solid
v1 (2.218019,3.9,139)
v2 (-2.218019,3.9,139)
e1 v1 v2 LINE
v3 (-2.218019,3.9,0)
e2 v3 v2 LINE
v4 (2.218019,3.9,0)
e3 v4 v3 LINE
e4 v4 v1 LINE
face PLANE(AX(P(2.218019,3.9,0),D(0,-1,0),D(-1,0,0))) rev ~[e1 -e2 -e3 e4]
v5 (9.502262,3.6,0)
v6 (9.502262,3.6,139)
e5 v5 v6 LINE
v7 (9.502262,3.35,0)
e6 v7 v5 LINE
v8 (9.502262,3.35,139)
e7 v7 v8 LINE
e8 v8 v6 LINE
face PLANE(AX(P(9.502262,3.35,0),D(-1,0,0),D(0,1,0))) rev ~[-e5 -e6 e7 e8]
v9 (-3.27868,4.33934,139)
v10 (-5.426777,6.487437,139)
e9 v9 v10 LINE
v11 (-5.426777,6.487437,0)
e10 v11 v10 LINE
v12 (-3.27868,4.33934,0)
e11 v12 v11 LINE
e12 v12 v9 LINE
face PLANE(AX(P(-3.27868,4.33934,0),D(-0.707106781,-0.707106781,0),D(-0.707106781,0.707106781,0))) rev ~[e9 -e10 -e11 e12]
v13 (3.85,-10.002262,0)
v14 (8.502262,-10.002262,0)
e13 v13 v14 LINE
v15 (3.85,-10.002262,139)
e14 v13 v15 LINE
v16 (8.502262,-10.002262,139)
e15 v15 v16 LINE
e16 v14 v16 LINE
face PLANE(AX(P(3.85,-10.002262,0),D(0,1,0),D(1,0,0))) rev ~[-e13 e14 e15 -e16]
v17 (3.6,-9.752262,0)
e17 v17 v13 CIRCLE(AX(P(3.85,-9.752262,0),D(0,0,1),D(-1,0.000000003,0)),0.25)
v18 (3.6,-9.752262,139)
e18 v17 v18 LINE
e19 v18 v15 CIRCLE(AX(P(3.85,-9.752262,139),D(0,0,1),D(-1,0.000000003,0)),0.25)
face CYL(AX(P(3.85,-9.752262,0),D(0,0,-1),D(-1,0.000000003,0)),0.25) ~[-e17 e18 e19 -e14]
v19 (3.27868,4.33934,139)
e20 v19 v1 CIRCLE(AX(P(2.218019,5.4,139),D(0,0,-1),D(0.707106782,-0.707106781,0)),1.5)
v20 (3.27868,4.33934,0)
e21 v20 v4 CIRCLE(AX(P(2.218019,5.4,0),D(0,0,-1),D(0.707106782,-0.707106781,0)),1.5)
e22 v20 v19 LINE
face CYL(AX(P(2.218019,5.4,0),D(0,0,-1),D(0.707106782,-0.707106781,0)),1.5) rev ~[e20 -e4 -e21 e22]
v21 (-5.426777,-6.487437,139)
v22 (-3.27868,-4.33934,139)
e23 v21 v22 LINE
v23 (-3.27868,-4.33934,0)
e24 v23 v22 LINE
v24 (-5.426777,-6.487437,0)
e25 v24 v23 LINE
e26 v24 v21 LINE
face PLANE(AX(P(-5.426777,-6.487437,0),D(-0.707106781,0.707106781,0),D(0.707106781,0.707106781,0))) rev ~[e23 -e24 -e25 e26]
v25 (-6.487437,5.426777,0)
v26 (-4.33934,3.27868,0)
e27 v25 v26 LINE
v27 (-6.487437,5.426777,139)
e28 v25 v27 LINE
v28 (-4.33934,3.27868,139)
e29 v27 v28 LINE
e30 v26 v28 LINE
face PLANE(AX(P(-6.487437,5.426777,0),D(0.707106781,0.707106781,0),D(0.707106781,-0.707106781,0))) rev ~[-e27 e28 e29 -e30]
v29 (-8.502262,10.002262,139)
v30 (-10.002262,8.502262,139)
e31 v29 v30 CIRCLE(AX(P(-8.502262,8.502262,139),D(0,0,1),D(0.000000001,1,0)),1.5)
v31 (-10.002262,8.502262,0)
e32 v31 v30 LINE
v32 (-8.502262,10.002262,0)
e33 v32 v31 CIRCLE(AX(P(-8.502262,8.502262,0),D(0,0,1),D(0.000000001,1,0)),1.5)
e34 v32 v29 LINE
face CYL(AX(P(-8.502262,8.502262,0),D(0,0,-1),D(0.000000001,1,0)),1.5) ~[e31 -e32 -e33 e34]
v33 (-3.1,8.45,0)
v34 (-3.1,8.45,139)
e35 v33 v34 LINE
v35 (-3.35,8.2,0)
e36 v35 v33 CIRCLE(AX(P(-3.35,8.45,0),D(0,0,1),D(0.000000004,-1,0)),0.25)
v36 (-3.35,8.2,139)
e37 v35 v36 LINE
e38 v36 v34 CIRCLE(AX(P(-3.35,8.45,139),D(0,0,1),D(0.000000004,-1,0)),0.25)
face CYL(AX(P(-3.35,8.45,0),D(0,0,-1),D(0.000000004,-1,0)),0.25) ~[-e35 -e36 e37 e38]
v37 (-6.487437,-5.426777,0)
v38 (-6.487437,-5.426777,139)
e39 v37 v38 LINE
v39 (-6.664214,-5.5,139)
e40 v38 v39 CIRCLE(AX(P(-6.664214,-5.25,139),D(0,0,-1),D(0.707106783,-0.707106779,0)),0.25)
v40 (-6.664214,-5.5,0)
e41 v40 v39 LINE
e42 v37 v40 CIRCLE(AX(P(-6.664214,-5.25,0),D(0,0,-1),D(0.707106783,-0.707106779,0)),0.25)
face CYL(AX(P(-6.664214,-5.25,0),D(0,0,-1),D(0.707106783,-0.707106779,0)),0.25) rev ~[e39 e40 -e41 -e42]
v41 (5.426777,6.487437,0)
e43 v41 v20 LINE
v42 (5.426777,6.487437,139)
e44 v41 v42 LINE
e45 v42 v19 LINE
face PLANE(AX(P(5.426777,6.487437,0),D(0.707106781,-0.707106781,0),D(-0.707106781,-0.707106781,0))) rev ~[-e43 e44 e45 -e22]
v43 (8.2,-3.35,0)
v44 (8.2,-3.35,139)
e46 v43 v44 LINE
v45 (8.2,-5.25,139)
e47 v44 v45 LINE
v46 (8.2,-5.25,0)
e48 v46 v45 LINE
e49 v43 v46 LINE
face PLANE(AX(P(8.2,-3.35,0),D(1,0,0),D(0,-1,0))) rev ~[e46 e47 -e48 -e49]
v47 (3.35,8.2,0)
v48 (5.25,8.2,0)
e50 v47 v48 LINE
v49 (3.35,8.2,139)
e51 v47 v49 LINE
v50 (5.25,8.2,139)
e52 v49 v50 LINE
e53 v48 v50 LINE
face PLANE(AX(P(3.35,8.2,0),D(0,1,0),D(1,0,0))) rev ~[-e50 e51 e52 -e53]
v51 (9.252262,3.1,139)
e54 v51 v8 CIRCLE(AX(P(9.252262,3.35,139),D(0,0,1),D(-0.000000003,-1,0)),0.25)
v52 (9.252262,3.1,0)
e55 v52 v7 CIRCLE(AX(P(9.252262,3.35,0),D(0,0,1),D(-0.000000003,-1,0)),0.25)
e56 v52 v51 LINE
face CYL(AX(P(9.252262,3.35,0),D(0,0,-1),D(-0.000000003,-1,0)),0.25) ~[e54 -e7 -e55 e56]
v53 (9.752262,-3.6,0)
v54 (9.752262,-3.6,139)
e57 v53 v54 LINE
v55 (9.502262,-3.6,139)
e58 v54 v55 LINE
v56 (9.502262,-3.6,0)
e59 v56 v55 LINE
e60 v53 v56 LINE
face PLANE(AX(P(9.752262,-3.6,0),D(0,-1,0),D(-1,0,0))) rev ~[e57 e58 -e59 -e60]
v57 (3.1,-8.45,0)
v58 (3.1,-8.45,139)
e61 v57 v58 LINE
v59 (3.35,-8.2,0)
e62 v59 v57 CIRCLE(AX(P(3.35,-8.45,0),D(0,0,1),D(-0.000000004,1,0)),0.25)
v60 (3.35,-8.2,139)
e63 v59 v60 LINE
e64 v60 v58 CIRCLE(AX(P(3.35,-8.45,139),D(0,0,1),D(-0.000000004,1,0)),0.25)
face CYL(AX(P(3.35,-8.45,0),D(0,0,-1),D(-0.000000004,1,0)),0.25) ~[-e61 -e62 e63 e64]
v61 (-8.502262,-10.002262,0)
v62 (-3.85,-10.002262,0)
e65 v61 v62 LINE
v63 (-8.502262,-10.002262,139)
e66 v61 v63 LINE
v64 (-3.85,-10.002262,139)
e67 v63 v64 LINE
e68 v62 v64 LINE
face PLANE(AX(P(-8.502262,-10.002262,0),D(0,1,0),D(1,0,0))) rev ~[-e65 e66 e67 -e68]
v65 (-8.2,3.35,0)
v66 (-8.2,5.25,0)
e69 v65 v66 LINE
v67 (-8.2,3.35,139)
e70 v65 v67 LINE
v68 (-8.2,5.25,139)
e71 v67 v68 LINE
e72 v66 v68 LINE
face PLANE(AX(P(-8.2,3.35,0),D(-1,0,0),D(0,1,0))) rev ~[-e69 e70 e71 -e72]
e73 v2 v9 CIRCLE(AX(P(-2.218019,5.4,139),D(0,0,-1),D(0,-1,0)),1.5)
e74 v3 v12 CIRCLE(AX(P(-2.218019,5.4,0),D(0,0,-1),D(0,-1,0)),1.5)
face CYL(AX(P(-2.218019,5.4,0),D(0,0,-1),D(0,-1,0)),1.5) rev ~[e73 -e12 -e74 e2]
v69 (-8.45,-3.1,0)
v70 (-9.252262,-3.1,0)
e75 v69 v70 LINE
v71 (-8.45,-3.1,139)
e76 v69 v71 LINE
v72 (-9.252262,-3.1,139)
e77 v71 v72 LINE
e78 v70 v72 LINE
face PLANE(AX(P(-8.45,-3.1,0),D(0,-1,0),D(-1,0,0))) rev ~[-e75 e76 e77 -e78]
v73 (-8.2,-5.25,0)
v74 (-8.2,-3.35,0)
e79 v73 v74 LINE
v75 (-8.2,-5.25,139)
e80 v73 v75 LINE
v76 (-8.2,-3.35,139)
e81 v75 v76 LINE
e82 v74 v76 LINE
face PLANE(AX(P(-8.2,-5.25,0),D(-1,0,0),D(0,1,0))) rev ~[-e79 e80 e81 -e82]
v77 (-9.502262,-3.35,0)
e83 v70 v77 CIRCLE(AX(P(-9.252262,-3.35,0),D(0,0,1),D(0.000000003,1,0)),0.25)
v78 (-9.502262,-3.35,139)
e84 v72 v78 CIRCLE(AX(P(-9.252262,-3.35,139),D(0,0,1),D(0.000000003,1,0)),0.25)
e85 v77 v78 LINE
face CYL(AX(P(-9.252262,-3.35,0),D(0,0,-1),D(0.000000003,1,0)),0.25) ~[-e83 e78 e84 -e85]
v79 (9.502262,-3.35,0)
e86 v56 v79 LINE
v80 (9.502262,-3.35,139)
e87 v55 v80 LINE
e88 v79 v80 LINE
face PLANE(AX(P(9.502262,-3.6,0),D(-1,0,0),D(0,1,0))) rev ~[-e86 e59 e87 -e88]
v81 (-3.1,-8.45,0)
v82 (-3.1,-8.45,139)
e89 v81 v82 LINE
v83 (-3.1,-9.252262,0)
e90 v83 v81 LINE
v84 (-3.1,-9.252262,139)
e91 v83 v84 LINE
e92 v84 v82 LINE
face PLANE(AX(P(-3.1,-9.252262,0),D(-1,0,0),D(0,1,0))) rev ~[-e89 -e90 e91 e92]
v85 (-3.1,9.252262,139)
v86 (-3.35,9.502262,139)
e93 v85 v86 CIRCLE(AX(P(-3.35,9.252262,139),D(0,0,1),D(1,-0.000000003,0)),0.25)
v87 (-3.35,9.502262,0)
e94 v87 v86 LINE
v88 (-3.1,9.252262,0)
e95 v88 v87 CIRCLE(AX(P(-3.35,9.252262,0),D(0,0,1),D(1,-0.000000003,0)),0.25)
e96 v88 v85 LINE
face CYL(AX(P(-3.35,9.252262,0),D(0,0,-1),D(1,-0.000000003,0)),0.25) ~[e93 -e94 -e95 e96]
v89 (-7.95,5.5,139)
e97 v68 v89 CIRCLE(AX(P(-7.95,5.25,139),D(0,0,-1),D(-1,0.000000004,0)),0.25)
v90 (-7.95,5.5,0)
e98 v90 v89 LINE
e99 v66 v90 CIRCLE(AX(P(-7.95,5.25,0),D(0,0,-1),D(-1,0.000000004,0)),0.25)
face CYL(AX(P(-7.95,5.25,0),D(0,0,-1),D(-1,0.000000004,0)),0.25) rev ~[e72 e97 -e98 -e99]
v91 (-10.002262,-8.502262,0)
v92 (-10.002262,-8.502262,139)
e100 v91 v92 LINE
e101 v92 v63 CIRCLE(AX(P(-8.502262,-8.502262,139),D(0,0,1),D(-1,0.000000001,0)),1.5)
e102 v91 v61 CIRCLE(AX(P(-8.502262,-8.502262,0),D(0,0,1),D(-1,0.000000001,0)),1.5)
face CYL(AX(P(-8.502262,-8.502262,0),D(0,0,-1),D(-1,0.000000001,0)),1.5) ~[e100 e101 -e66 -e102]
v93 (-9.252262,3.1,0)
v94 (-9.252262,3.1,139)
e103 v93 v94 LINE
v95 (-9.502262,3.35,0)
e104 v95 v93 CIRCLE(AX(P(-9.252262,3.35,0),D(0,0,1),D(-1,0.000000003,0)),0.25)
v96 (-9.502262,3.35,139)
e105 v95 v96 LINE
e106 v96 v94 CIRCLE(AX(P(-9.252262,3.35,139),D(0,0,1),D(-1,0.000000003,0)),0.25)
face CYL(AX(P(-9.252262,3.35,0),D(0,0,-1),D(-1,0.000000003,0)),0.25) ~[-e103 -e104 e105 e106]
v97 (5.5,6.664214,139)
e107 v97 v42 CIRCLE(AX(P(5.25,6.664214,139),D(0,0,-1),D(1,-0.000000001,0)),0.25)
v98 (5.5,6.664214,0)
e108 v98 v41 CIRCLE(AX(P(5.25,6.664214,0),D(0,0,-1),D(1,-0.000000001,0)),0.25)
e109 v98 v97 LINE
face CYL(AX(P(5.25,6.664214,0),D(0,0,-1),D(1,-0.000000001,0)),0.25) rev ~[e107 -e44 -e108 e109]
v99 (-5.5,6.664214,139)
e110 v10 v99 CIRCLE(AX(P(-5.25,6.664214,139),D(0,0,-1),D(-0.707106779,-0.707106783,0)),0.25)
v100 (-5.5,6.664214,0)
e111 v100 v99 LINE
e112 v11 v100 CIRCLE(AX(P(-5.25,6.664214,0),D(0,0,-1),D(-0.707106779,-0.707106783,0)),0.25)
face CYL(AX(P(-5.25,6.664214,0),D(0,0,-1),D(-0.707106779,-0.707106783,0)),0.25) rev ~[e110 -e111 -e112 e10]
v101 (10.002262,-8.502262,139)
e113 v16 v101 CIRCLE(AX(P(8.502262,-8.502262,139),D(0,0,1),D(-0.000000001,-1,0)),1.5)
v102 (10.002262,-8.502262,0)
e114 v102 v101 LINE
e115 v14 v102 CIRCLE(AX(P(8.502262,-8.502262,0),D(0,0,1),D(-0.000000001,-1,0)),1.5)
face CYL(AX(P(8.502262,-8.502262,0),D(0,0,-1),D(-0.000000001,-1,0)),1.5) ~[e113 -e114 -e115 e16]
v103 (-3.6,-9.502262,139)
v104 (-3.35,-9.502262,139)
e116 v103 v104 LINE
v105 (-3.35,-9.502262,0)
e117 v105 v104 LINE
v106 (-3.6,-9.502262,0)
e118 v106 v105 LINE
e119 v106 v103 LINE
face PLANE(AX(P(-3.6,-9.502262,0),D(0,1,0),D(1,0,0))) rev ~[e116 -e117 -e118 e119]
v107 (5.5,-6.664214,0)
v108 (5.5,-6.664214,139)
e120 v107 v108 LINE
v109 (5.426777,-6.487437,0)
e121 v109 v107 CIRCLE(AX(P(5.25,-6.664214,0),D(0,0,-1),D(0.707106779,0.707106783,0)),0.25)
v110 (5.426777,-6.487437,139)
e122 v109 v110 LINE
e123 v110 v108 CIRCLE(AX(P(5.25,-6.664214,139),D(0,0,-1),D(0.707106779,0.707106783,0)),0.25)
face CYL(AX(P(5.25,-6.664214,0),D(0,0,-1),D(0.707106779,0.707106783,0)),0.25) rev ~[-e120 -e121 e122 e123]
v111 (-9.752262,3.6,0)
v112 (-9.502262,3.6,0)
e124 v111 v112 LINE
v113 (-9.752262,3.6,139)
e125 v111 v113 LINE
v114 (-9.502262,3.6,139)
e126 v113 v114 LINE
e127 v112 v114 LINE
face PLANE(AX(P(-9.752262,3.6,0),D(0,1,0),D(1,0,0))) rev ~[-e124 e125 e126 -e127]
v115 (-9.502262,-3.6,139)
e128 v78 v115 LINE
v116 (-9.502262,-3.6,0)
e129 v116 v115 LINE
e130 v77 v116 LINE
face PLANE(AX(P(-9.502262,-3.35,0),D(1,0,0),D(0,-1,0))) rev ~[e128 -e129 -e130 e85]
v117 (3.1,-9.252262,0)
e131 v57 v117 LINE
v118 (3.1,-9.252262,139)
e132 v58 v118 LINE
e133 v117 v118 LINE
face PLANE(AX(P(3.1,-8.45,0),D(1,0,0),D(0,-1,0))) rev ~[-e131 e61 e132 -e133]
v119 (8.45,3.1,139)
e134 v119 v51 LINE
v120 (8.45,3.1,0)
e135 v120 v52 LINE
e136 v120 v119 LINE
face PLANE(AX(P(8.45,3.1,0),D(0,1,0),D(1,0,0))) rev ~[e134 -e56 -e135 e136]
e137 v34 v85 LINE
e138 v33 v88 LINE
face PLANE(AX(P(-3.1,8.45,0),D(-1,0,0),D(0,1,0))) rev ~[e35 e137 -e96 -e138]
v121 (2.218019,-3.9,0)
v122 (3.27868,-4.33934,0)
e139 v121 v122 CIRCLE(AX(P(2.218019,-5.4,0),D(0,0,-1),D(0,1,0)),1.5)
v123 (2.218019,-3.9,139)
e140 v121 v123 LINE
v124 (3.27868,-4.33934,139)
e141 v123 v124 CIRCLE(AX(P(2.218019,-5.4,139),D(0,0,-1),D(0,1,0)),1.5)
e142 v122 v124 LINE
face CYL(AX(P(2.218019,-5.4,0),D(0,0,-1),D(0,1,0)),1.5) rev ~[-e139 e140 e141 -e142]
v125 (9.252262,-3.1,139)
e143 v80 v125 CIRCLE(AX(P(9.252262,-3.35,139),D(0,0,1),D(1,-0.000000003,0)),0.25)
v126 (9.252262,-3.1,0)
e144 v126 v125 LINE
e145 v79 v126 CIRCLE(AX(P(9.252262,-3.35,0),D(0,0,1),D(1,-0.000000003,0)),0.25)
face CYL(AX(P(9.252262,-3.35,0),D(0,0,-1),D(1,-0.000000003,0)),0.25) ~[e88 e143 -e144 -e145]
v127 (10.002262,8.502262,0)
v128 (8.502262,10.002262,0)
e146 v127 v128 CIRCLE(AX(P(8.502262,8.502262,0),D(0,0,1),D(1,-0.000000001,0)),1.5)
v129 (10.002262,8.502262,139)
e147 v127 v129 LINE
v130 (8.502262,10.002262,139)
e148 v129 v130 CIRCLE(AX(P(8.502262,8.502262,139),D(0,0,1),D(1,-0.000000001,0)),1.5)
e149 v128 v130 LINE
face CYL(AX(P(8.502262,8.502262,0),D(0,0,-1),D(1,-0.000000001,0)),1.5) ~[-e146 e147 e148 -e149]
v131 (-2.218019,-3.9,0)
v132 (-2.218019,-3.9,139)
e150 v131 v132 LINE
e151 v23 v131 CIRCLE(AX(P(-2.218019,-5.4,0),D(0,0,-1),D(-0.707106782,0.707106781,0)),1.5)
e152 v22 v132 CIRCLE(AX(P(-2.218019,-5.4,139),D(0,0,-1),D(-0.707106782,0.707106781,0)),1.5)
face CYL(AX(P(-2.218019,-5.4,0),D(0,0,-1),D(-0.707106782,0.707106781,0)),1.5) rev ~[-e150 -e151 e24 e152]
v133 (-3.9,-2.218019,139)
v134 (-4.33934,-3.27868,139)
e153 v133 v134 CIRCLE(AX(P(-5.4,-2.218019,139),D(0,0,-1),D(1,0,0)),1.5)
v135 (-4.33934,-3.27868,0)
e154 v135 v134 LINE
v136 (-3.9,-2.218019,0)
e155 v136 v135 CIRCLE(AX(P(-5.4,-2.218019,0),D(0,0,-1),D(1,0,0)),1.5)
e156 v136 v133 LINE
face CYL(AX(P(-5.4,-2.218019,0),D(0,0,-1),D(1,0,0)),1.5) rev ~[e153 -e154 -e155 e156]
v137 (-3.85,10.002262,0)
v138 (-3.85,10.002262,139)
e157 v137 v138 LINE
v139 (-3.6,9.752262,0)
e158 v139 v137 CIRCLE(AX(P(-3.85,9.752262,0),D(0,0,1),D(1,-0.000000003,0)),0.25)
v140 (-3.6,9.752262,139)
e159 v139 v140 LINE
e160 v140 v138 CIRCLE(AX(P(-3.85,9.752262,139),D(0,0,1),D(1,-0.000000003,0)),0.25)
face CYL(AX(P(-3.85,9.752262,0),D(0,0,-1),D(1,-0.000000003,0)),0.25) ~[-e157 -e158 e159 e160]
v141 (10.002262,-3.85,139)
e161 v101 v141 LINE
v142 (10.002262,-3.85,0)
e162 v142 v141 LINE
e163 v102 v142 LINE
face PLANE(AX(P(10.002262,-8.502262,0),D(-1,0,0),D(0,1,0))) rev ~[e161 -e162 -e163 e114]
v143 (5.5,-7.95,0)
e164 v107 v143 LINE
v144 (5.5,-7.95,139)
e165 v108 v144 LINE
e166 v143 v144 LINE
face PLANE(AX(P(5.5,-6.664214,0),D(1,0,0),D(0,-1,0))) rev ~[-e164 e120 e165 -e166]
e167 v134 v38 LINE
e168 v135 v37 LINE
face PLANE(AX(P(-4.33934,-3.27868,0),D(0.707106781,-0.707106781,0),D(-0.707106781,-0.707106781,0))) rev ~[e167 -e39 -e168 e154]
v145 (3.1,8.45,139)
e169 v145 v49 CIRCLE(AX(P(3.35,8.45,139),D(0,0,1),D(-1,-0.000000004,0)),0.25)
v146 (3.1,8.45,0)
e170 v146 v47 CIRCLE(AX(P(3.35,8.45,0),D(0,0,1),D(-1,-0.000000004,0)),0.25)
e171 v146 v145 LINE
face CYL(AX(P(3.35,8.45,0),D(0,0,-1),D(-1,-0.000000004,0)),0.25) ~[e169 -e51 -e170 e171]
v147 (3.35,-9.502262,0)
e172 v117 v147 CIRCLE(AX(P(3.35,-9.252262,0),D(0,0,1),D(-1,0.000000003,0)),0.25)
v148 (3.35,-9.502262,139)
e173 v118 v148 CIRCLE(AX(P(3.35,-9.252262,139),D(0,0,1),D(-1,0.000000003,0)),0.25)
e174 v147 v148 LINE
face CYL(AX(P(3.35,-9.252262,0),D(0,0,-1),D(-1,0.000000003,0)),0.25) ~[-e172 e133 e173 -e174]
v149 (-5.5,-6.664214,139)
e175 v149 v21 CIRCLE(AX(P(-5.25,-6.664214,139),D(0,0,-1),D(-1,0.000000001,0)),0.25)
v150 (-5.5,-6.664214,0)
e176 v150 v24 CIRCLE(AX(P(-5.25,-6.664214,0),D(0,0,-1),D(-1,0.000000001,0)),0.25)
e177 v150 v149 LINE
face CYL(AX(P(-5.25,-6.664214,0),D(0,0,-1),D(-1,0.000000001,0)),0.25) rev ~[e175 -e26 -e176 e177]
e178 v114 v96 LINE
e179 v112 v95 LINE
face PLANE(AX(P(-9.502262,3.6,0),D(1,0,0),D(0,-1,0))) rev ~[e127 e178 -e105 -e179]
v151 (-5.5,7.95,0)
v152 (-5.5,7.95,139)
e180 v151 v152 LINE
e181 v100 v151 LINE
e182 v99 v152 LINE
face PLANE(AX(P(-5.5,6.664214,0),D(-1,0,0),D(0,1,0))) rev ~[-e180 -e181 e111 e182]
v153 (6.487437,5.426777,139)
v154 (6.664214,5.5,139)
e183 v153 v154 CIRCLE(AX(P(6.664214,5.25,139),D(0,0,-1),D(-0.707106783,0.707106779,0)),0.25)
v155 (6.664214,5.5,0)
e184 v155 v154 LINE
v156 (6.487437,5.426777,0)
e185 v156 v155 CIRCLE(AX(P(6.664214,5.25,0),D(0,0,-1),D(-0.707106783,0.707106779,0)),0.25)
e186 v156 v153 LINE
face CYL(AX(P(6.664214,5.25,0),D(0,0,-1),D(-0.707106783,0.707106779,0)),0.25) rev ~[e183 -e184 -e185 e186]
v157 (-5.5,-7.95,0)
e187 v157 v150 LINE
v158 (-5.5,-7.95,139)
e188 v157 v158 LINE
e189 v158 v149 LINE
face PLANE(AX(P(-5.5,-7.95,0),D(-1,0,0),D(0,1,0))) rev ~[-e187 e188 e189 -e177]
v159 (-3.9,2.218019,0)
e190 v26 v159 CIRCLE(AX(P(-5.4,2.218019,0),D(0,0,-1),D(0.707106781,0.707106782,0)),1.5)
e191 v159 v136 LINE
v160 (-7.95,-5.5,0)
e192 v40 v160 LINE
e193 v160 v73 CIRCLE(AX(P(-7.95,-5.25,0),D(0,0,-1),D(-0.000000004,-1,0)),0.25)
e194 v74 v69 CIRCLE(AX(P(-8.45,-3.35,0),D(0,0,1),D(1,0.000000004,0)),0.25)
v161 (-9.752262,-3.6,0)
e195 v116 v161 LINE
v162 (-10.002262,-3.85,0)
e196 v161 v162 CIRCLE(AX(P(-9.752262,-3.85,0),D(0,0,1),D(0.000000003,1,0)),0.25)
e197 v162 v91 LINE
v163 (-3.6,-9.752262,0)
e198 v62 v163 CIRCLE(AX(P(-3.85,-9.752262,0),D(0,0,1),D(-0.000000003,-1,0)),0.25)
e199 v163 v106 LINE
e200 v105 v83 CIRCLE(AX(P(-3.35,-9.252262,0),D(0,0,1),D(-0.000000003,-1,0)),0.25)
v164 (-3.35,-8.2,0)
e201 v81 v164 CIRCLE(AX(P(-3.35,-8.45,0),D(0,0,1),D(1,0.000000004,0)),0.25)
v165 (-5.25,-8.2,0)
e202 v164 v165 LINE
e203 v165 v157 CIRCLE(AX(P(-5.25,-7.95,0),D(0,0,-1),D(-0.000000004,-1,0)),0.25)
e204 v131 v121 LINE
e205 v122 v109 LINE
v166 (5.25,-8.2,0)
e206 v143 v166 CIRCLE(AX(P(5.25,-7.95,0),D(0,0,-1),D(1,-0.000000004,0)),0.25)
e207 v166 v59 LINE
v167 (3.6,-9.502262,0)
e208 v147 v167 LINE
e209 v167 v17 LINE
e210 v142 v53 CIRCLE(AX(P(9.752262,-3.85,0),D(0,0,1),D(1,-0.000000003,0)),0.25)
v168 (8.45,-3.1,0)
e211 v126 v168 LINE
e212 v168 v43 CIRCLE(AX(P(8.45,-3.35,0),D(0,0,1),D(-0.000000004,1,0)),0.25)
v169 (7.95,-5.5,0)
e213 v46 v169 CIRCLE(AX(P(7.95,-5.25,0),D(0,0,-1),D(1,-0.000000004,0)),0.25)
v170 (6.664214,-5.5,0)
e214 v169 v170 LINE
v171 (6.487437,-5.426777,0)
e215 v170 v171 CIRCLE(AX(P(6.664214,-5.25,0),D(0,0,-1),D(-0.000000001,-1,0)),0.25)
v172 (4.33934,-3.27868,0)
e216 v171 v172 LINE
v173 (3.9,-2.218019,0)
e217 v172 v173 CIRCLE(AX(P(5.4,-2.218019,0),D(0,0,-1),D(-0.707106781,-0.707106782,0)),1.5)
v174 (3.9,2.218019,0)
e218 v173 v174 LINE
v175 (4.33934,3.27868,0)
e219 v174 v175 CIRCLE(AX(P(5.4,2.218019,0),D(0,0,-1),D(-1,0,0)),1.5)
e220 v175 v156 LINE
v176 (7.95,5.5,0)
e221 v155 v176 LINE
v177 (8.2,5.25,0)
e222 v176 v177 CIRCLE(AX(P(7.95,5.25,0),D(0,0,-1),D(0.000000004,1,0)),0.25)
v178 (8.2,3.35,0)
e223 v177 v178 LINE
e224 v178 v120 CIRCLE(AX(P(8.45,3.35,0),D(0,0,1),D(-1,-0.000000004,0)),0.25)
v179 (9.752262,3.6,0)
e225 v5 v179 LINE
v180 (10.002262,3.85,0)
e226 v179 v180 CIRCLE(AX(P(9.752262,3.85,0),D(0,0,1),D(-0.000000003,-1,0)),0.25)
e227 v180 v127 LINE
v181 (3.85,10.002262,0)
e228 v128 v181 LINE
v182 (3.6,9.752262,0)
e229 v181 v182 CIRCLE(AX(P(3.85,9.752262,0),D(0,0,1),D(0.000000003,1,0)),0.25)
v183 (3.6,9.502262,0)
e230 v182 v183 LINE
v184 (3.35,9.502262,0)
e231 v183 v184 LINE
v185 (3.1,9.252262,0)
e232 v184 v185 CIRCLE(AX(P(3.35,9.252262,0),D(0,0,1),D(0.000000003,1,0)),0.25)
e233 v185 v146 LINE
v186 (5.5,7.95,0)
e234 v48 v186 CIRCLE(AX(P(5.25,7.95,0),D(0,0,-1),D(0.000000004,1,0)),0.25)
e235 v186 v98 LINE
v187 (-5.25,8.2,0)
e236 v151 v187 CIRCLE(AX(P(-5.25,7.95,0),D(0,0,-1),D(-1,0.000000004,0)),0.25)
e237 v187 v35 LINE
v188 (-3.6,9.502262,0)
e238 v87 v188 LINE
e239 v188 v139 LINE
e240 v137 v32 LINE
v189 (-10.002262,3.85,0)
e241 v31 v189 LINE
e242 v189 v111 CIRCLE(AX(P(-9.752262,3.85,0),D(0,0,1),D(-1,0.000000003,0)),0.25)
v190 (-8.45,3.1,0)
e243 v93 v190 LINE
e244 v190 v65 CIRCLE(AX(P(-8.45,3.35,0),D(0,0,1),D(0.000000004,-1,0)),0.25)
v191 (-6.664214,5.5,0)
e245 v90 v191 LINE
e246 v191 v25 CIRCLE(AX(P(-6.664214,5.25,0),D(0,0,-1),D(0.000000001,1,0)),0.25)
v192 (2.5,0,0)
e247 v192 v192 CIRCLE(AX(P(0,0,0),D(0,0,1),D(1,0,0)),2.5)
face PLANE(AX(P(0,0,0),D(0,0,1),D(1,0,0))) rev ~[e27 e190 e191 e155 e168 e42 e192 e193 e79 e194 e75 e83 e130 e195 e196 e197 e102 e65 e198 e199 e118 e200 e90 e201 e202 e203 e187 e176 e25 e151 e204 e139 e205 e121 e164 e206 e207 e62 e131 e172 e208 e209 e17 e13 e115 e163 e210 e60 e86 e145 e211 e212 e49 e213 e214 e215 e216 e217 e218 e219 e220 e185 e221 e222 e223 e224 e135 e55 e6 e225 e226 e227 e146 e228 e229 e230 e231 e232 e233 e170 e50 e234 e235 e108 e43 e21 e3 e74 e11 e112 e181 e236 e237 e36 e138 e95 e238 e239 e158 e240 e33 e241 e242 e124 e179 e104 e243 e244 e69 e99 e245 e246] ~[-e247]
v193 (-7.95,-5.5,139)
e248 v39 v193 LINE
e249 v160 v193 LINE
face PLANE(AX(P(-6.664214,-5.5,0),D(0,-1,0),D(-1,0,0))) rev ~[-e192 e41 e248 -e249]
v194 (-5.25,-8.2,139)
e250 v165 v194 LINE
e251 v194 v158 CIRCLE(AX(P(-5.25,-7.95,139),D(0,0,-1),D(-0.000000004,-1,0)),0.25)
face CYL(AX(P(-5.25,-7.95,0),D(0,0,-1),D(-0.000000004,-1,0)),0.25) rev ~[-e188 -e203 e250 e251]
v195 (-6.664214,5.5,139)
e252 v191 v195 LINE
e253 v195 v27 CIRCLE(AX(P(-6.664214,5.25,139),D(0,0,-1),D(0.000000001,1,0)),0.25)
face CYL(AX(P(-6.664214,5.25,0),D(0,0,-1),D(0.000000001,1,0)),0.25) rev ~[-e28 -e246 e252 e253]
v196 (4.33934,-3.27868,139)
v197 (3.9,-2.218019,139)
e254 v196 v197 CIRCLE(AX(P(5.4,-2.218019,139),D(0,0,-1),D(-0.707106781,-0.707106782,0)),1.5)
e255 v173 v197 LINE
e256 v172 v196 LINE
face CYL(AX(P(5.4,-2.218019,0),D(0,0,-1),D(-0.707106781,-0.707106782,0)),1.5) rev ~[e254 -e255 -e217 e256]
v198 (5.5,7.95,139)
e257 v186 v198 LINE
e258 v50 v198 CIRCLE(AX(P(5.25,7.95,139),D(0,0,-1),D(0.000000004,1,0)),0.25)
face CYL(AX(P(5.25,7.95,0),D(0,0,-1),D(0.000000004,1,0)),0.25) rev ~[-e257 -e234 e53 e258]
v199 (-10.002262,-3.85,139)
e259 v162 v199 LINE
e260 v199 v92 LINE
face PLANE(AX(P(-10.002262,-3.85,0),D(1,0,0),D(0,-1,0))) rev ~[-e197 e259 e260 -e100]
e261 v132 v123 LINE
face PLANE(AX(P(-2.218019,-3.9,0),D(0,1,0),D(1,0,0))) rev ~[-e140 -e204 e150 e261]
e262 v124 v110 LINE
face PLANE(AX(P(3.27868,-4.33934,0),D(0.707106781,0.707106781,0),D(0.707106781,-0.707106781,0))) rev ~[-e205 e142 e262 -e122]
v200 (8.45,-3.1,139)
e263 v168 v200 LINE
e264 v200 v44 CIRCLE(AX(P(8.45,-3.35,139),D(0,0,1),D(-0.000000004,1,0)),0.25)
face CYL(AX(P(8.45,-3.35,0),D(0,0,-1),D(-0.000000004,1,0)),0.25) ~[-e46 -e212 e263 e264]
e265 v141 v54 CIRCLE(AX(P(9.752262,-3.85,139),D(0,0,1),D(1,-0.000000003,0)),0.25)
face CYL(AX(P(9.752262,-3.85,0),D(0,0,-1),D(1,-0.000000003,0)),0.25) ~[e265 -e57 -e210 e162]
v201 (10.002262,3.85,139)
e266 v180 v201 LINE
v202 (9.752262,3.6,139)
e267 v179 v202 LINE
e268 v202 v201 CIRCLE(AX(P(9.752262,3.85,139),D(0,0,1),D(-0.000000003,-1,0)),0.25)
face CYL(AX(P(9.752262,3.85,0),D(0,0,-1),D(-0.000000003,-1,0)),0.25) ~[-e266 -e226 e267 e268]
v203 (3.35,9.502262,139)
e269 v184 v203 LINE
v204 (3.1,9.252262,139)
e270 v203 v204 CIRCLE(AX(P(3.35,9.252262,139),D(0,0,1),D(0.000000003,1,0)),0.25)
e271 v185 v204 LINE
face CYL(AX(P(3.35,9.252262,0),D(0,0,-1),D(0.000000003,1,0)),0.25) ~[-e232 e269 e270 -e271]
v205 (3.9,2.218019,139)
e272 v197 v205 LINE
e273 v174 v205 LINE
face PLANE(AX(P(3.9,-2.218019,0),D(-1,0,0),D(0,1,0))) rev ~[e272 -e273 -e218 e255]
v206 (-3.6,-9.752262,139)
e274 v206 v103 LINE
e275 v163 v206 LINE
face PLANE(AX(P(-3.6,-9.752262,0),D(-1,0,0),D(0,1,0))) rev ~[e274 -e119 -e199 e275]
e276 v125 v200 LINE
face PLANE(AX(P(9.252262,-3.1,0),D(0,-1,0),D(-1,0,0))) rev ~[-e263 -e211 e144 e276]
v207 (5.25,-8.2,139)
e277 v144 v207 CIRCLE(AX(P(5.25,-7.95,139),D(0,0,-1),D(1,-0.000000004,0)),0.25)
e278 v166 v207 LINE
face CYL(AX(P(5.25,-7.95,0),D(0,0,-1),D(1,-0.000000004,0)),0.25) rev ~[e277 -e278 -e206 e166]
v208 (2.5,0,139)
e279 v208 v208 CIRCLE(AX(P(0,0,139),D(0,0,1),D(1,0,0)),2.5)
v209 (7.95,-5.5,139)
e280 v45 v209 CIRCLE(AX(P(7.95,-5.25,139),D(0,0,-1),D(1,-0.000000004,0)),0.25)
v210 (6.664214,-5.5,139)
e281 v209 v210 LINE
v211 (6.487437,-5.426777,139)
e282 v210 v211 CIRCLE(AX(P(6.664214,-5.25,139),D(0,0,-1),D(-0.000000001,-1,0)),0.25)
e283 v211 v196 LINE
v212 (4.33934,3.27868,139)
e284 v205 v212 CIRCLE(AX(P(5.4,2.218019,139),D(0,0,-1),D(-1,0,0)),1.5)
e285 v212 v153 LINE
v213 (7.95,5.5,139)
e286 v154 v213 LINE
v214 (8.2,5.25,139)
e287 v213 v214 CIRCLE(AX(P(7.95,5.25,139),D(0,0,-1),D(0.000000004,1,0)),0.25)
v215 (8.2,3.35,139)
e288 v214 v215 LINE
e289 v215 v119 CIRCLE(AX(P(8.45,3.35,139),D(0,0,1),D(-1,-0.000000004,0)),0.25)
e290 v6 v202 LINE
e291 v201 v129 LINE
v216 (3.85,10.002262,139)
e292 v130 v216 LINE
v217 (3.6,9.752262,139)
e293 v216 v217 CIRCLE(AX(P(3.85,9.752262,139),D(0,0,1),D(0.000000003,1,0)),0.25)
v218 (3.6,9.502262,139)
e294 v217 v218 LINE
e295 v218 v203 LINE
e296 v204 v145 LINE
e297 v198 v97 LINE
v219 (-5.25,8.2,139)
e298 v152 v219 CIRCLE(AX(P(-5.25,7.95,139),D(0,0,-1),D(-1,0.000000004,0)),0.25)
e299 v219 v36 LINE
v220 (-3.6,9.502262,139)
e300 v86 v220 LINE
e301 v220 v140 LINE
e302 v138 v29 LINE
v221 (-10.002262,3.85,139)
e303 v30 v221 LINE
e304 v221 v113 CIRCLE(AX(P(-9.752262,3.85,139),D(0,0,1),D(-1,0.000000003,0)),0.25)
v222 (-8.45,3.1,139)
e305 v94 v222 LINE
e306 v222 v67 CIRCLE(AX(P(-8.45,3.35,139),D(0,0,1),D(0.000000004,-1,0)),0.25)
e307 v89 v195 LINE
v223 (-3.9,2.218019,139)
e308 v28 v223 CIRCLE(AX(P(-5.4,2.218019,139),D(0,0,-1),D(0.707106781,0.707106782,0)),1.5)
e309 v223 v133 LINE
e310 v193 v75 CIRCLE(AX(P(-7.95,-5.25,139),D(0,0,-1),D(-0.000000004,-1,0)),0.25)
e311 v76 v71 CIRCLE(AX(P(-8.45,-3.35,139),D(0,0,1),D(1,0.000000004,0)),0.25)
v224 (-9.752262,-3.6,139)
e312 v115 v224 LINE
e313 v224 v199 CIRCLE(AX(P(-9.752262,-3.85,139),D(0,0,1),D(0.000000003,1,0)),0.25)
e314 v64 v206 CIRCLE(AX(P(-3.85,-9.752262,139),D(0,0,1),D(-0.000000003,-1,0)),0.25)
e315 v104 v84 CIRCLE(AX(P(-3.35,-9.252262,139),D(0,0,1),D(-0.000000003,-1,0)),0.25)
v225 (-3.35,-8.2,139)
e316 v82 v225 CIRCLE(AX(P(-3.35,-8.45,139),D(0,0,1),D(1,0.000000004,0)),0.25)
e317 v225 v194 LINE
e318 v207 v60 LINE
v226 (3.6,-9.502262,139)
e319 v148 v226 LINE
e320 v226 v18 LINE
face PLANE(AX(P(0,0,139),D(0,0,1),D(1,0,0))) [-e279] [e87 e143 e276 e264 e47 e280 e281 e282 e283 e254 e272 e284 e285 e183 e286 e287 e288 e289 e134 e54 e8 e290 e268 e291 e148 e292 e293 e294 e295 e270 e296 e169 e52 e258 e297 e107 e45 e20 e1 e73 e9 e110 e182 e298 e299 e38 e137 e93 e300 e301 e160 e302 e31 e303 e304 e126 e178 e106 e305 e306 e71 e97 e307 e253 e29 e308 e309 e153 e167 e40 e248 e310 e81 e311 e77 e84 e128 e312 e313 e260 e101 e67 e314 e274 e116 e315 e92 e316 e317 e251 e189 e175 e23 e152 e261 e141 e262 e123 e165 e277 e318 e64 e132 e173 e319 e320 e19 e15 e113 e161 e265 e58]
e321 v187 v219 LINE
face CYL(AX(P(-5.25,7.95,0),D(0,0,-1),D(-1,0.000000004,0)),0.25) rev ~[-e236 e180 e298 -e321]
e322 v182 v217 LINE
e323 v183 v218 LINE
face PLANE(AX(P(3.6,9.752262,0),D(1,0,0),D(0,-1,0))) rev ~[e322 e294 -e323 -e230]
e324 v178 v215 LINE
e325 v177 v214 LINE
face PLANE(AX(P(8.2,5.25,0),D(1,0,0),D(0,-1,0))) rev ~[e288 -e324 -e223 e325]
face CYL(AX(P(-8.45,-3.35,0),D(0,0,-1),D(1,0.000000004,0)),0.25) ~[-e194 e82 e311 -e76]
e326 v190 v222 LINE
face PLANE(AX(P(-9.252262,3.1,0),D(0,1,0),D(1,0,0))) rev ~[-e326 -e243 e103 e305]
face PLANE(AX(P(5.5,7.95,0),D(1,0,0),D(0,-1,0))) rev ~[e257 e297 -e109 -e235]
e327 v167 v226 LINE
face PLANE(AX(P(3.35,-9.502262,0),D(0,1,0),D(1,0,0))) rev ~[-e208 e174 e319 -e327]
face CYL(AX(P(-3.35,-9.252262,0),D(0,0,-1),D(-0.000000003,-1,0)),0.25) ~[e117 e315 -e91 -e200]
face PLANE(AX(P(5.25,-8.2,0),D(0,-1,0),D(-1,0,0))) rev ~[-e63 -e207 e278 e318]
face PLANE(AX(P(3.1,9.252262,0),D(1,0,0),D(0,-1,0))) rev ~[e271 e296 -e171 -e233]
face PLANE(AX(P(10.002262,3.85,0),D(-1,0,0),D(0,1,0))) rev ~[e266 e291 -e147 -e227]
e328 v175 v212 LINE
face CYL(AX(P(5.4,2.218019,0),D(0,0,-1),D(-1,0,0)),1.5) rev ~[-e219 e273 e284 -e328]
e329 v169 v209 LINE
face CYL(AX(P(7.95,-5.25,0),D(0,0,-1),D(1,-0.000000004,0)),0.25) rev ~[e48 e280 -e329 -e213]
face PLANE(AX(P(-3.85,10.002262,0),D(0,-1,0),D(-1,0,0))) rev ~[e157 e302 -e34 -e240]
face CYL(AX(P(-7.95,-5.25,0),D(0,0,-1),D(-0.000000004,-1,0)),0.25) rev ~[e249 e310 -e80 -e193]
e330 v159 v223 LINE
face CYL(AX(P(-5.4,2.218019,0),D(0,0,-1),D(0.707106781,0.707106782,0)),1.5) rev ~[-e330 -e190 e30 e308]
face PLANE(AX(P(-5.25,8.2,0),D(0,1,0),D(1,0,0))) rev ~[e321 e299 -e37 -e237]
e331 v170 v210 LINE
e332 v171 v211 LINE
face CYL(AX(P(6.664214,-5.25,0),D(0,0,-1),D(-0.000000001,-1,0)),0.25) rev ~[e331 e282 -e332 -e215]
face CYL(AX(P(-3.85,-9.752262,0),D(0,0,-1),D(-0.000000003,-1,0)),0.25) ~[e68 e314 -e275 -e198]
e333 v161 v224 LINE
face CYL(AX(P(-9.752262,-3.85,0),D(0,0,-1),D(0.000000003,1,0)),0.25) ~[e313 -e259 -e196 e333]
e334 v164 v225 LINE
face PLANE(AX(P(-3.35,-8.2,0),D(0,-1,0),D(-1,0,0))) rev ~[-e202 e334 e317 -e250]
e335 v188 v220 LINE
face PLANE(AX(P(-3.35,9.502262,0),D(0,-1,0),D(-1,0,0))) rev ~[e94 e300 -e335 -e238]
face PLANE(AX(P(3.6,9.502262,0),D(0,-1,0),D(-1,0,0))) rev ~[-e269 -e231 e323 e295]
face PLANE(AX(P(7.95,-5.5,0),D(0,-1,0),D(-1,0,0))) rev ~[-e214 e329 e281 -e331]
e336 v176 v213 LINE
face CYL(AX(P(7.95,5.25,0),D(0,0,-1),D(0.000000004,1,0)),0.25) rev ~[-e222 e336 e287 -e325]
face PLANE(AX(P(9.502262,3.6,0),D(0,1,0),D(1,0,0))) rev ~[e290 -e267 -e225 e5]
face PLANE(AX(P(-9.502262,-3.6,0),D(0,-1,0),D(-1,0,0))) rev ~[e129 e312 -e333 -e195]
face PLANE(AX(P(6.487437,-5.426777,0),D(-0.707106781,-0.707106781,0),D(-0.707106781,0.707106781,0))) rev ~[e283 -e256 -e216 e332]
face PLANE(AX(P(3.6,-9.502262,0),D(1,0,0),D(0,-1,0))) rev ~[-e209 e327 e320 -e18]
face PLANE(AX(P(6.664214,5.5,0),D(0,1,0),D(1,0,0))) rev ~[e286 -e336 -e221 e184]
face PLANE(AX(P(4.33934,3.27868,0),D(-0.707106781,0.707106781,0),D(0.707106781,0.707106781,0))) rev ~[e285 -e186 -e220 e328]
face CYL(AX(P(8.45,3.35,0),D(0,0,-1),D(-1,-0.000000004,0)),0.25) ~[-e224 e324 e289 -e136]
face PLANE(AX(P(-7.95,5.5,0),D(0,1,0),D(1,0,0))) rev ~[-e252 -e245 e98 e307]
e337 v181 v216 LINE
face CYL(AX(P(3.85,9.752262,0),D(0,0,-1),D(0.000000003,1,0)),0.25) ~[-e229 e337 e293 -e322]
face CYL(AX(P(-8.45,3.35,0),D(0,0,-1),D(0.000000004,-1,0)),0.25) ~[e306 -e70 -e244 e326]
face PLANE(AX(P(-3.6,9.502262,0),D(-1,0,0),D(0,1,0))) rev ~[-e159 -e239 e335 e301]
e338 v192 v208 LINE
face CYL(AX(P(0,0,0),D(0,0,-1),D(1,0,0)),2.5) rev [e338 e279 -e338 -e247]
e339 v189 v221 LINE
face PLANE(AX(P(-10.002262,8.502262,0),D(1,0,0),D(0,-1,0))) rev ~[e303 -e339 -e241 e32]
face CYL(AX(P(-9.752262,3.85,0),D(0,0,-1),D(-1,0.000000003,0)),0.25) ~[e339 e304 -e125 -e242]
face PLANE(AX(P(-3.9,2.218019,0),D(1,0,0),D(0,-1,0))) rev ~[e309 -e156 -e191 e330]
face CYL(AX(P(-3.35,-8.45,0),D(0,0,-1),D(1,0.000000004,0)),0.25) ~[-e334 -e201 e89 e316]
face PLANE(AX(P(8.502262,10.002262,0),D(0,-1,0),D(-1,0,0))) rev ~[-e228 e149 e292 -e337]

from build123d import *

# Parameters (mm, degrees)
SKETCH_1_R      = 2.5
EXTRUDE_1_DEPTH = 139


with BuildPart() as part:
    # 草图1 → 凸台-拉伸1 (new body)
    with BuildSketch(Plane.XY):
        with BuildLine():
            Line((-8.502261885, -10.002261885), (-3.85, -10.002261885))
            ThreePointArc((-3.85, -10.002261885), (-3.673223305, -9.929038581), (-3.6, -9.752261885))
            Line((-3.6, -9.752261885), (-3.6, -9.502261885))
            Line((-3.6, -9.502261885), (-3.35, -9.502261885))
            ThreePointArc((-3.35, -9.502261885), (-3.173223305, -9.429038581), (-3.1, -9.252261885))
            Line((-3.1, -9.252261885), (-3.1, -8.45))
            ThreePointArc((-3.1, -8.45), (-3.173223305, -8.273223305), (-3.35, -8.2))
            Line((-3.35, -8.2), (-5.25, -8.2))
            ThreePointArc((-5.25, -8.2), (-5.426776695, -8.126776695), (-5.5, -7.95))
            Line((-5.5, -7.95), (-5.5, -6.664213562))
            ThreePointArc((-5.5, -6.664213562), (-5.480969883, -6.568542704), (-5.426776695, -6.487436867))
            Line((-5.426776695, -6.487436867), (-3.278679656, -4.339339828))
            ThreePointArc((-3.278679656, -4.339339828), (-2.792044633, -4.014180701), (-2.218019485, -3.9))
            Line((-2.218019485, -3.9), (2.218019485, -3.9))
            ThreePointArc((2.218019485, -3.9), (2.792044633, -4.014180701), (3.278679656, -4.339339828))
            Line((3.278679656, -4.339339828), (5.426776695, -6.487436867))
            ThreePointArc((5.426776695, -6.487436867), (5.480969883, -6.568542704), (5.5, -6.664213562))
            Line((5.5, -6.664213562), (5.5, -7.95))
            ThreePointArc((5.5, -7.95), (5.426776695, -8.126776695), (5.25, -8.2))
            Line((5.25, -8.2), (3.35, -8.2))
            ThreePointArc((3.35, -8.2), (3.173223305, -8.273223305), (3.1, -8.45))
            Line((3.1, -8.45), (3.1, -9.252261885))
            ThreePointArc((3.1, -9.252261885), (3.173223305, -9.429038581), (3.35, -9.502261885))
            Line((3.35, -9.502261885), (3.6, -9.502261885))
            Line((3.6, -9.502261885), (3.6, -9.752261885))
            ThreePointArc((3.6, -9.752261885), (3.673223305, -9.929038581), (3.85, -10.002261885))
            Line((3.85, -10.002261885), (8.502261885, -10.002261885))
            ThreePointArc((8.502261885, -10.002261885), (9.562922057, -9.562922057), (10.002261885, -8.502261885))
            Line((10.002261885, -8.502261885), (10.002261885, -3.85))
            ThreePointArc((10.002261885, -3.85), (9.929038581, -3.673223305), (9.752261885, -3.6))
            Line((9.752261885, -3.6), (9.502261885, -3.6))
            Line((9.502261885, -3.6), (9.502261885, -3.35))
            ThreePointArc((9.502261885, -3.35), (9.429038581, -3.173223305), (9.252261885, -3.1))
            Line((9.252261885, -3.1), (8.45, -3.1))
            ThreePointArc((8.45, -3.1), (8.273223305, -3.173223305), (8.2, -3.35))
            Line((8.2, -3.35), (8.2, -5.25))
            ThreePointArc((8.2, -5.25), (8.126776695, -5.426776695), (7.95, -5.5))
            Line((7.95, -5.5), (6.664213562, -5.5))
            ThreePointArc((6.664213562, -5.5), (6.568542704, -5.480969883), (6.487436867, -5.426776695))
            Line((6.487436867, -5.426776695), (4.339339828, -3.278679656))
            ThreePointArc((4.339339828, -3.278679656), (4.014180701, -2.792044633), (3.9, -2.218019485))
            Line((3.9, -2.218019485), (3.9, 2.218019485))
            ThreePointArc((3.9, 2.218019485), (4.014180701, 2.792044633), (4.339339828, 3.278679656))
            Line((4.339339828, 3.278679656), (6.487436867, 5.426776695))
            ThreePointArc((6.487436867, 5.426776695), (6.568542704, 5.480969883), (6.664213562, 5.5))
            Line((6.664213562, 5.5), (7.95, 5.5))
            ThreePointArc((7.95, 5.5), (8.126776695, 5.426776695), (8.2, 5.25))
            Line((8.2, 5.25), (8.2, 3.35))
            ThreePointArc((8.2, 3.35), (8.273223305, 3.173223305), (8.45, 3.1))
            Line((8.45, 3.1), (9.252261885, 3.1))
            ThreePointArc((9.252261885, 3.1), (9.429038581, 3.173223305), (9.502261885, 3.35))
            Line((9.502261885, 3.35), (9.502261885, 3.6))
            Line((9.502261885, 3.6), (9.752261885, 3.6))
            ThreePointArc((9.752261885, 3.6), (9.929038581, 3.673223305), (10.002261885, 3.85))
            Line((10.002261885, 3.85), (10.002261885, 8.502261885))
            ThreePointArc((10.002261885, 8.502261885), (9.562922057, 9.562922057), (8.502261885, 10.002261885))
            Line((8.502261885, 10.002261885), (3.85, 10.002261885))
            ThreePointArc((3.85, 10.002261885), (3.673223305, 9.929038581), (3.6, 9.752261885))
            Line((3.6, 9.752261885), (3.6, 9.502261885))
            Line((3.6, 9.502261885), (3.35, 9.502261885))
            ThreePointArc((3.35, 9.502261885), (3.173223305, 9.429038581), (3.1, 9.252261885))
            Line((3.1, 9.252261885), (3.1, 8.45))
            ThreePointArc((3.1, 8.45), (3.173223305, 8.273223305), (3.35, 8.2))
            Line((3.35, 8.2), (5.25, 8.2))
            ThreePointArc((5.25, 8.2), (5.426776695, 8.126776695), (5.5, 7.95))
            Line((5.5, 7.95), (5.5, 6.664213562))
            ThreePointArc((5.5, 6.664213562), (5.480969883, 6.568542704), (5.426776695, 6.487436867))
            Line((5.426776695, 6.487436867), (3.278679656, 4.339339828))
            ThreePointArc((3.278679656, 4.339339828), (2.792044633, 4.014180701), (2.218019485, 3.9))
            Line((2.218019485, 3.9), (-2.218019485, 3.9))
            ThreePointArc((-2.218019485, 3.9), (-2.792044633, 4.014180701), (-3.278679656, 4.339339828))
            Line((-3.278679656, 4.339339828), (-5.426776695, 6.487436867))
            ThreePointArc((-5.426776695, 6.487436867), (-5.480969883, 6.568542704), (-5.5, 6.664213562))
            Line((-5.5, 6.664213562), (-5.5, 7.95))
            ThreePointArc((-5.5, 7.95), (-5.426776695, 8.126776695), (-5.25, 8.2))
            Line((-5.25, 8.2), (-3.35, 8.2))
            ThreePointArc((-3.35, 8.2), (-3.173223305, 8.273223305), (-3.1, 8.45))
            Line((-3.1, 8.45), (-3.1, 9.252261885))
            ThreePointArc((-3.1, 9.252261885), (-3.173223305, 9.429038581), (-3.35, 9.502261885))
            Line((-3.35, 9.502261885), (-3.6, 9.502261885))
            Line((-3.6, 9.502261885), (-3.6, 9.752261885))
            ThreePointArc((-3.6, 9.752261885), (-3.673223305, 9.929038581), (-3.85, 10.002261885))
            Line((-3.85, 10.002261885), (-8.502261885, 10.002261885))
            ThreePointArc((-8.502261885, 10.002261885), (-9.562922057, 9.562922057), (-10.002261885, 8.502261885))
            Line((-10.002261885, 8.502261885), (-10.002261885, 3.85))
            ThreePointArc((-10.002261885, 3.85), (-9.929038581, 3.673223305), (-9.752261885, 3.6))
            Line((-9.752261885, 3.6), (-9.502261885, 3.6))
            Line((-9.502261885, 3.6), (-9.502261885, 3.35))
            ThreePointArc((-9.502261885, 3.35), (-9.429038581, 3.173223305), (-9.252261885, 3.1))
            Line((-9.252261885, 3.1), (-8.45, 3.1))
            ThreePointArc((-8.45, 3.1), (-8.273223305, 3.173223305), (-8.2, 3.35))
            Line((-8.2, 3.35), (-8.2, 5.25))
            ThreePointArc((-8.2, 5.25), (-8.126776695, 5.426776695), (-7.95, 5.5))
            Line((-7.95, 5.5), (-6.664213562, 5.5))
            ThreePointArc((-6.664213562, 5.5), (-6.568542704, 5.480969883), (-6.487436867, 5.426776695))
            Line((-6.487436867, 5.426776695), (-4.339339828, 3.278679656))
            ThreePointArc((-4.339339828, 3.278679656), (-4.014180701, 2.792044633), (-3.9, 2.218019485))
            Line((-3.9, 2.218019485), (-3.9, -2.218019485))
            ThreePointArc((-3.9, -2.218019485), (-4.014180701, -2.792044633), (-4.339339828, -3.278679656))
            Line((-4.339339828, -3.278679656), (-6.487436867, -5.426776695))
            ThreePointArc((-6.487436867, -5.426776695), (-6.568542704, -5.480969883), (-6.664213562, -5.5))
            Line((-6.664213562, -5.5), (-7.95, -5.5))
            ThreePointArc((-7.95, -5.5), (-8.126776695, -5.426776695), (-8.2, -5.25))
            Line((-8.2, -5.25), (-8.2, -3.35))
            ThreePointArc((-8.2, -3.35), (-8.273223305, -3.173223305), (-8.45, -3.1))
            Line((-8.45, -3.1), (-9.252261885, -3.1))
            ThreePointArc((-9.252261885, -3.1), (-9.429038581, -3.173223305), (-9.502261885, -3.35))
            Line((-9.502261885, -3.35), (-9.502261885, -3.6))
            Line((-9.502261885, -3.6), (-9.752261885, -3.6))
            ThreePointArc((-9.752261885, -3.6), (-9.929038581, -3.673223305), (-10.002261885, -3.85))
            Line((-10.002261885, -3.85), (-10.002261885, -8.502261885))
            ThreePointArc((-10.002261885, -8.502261885), (-9.562922057, -9.562922057), (-8.502261885, -10.002261885))
        make_face()
        Circle(SKETCH_1_R, mode=Mode.SUBTRACT)
    extrude(amount=EXTRUDE_1_DEPTH)


solid = part.part
